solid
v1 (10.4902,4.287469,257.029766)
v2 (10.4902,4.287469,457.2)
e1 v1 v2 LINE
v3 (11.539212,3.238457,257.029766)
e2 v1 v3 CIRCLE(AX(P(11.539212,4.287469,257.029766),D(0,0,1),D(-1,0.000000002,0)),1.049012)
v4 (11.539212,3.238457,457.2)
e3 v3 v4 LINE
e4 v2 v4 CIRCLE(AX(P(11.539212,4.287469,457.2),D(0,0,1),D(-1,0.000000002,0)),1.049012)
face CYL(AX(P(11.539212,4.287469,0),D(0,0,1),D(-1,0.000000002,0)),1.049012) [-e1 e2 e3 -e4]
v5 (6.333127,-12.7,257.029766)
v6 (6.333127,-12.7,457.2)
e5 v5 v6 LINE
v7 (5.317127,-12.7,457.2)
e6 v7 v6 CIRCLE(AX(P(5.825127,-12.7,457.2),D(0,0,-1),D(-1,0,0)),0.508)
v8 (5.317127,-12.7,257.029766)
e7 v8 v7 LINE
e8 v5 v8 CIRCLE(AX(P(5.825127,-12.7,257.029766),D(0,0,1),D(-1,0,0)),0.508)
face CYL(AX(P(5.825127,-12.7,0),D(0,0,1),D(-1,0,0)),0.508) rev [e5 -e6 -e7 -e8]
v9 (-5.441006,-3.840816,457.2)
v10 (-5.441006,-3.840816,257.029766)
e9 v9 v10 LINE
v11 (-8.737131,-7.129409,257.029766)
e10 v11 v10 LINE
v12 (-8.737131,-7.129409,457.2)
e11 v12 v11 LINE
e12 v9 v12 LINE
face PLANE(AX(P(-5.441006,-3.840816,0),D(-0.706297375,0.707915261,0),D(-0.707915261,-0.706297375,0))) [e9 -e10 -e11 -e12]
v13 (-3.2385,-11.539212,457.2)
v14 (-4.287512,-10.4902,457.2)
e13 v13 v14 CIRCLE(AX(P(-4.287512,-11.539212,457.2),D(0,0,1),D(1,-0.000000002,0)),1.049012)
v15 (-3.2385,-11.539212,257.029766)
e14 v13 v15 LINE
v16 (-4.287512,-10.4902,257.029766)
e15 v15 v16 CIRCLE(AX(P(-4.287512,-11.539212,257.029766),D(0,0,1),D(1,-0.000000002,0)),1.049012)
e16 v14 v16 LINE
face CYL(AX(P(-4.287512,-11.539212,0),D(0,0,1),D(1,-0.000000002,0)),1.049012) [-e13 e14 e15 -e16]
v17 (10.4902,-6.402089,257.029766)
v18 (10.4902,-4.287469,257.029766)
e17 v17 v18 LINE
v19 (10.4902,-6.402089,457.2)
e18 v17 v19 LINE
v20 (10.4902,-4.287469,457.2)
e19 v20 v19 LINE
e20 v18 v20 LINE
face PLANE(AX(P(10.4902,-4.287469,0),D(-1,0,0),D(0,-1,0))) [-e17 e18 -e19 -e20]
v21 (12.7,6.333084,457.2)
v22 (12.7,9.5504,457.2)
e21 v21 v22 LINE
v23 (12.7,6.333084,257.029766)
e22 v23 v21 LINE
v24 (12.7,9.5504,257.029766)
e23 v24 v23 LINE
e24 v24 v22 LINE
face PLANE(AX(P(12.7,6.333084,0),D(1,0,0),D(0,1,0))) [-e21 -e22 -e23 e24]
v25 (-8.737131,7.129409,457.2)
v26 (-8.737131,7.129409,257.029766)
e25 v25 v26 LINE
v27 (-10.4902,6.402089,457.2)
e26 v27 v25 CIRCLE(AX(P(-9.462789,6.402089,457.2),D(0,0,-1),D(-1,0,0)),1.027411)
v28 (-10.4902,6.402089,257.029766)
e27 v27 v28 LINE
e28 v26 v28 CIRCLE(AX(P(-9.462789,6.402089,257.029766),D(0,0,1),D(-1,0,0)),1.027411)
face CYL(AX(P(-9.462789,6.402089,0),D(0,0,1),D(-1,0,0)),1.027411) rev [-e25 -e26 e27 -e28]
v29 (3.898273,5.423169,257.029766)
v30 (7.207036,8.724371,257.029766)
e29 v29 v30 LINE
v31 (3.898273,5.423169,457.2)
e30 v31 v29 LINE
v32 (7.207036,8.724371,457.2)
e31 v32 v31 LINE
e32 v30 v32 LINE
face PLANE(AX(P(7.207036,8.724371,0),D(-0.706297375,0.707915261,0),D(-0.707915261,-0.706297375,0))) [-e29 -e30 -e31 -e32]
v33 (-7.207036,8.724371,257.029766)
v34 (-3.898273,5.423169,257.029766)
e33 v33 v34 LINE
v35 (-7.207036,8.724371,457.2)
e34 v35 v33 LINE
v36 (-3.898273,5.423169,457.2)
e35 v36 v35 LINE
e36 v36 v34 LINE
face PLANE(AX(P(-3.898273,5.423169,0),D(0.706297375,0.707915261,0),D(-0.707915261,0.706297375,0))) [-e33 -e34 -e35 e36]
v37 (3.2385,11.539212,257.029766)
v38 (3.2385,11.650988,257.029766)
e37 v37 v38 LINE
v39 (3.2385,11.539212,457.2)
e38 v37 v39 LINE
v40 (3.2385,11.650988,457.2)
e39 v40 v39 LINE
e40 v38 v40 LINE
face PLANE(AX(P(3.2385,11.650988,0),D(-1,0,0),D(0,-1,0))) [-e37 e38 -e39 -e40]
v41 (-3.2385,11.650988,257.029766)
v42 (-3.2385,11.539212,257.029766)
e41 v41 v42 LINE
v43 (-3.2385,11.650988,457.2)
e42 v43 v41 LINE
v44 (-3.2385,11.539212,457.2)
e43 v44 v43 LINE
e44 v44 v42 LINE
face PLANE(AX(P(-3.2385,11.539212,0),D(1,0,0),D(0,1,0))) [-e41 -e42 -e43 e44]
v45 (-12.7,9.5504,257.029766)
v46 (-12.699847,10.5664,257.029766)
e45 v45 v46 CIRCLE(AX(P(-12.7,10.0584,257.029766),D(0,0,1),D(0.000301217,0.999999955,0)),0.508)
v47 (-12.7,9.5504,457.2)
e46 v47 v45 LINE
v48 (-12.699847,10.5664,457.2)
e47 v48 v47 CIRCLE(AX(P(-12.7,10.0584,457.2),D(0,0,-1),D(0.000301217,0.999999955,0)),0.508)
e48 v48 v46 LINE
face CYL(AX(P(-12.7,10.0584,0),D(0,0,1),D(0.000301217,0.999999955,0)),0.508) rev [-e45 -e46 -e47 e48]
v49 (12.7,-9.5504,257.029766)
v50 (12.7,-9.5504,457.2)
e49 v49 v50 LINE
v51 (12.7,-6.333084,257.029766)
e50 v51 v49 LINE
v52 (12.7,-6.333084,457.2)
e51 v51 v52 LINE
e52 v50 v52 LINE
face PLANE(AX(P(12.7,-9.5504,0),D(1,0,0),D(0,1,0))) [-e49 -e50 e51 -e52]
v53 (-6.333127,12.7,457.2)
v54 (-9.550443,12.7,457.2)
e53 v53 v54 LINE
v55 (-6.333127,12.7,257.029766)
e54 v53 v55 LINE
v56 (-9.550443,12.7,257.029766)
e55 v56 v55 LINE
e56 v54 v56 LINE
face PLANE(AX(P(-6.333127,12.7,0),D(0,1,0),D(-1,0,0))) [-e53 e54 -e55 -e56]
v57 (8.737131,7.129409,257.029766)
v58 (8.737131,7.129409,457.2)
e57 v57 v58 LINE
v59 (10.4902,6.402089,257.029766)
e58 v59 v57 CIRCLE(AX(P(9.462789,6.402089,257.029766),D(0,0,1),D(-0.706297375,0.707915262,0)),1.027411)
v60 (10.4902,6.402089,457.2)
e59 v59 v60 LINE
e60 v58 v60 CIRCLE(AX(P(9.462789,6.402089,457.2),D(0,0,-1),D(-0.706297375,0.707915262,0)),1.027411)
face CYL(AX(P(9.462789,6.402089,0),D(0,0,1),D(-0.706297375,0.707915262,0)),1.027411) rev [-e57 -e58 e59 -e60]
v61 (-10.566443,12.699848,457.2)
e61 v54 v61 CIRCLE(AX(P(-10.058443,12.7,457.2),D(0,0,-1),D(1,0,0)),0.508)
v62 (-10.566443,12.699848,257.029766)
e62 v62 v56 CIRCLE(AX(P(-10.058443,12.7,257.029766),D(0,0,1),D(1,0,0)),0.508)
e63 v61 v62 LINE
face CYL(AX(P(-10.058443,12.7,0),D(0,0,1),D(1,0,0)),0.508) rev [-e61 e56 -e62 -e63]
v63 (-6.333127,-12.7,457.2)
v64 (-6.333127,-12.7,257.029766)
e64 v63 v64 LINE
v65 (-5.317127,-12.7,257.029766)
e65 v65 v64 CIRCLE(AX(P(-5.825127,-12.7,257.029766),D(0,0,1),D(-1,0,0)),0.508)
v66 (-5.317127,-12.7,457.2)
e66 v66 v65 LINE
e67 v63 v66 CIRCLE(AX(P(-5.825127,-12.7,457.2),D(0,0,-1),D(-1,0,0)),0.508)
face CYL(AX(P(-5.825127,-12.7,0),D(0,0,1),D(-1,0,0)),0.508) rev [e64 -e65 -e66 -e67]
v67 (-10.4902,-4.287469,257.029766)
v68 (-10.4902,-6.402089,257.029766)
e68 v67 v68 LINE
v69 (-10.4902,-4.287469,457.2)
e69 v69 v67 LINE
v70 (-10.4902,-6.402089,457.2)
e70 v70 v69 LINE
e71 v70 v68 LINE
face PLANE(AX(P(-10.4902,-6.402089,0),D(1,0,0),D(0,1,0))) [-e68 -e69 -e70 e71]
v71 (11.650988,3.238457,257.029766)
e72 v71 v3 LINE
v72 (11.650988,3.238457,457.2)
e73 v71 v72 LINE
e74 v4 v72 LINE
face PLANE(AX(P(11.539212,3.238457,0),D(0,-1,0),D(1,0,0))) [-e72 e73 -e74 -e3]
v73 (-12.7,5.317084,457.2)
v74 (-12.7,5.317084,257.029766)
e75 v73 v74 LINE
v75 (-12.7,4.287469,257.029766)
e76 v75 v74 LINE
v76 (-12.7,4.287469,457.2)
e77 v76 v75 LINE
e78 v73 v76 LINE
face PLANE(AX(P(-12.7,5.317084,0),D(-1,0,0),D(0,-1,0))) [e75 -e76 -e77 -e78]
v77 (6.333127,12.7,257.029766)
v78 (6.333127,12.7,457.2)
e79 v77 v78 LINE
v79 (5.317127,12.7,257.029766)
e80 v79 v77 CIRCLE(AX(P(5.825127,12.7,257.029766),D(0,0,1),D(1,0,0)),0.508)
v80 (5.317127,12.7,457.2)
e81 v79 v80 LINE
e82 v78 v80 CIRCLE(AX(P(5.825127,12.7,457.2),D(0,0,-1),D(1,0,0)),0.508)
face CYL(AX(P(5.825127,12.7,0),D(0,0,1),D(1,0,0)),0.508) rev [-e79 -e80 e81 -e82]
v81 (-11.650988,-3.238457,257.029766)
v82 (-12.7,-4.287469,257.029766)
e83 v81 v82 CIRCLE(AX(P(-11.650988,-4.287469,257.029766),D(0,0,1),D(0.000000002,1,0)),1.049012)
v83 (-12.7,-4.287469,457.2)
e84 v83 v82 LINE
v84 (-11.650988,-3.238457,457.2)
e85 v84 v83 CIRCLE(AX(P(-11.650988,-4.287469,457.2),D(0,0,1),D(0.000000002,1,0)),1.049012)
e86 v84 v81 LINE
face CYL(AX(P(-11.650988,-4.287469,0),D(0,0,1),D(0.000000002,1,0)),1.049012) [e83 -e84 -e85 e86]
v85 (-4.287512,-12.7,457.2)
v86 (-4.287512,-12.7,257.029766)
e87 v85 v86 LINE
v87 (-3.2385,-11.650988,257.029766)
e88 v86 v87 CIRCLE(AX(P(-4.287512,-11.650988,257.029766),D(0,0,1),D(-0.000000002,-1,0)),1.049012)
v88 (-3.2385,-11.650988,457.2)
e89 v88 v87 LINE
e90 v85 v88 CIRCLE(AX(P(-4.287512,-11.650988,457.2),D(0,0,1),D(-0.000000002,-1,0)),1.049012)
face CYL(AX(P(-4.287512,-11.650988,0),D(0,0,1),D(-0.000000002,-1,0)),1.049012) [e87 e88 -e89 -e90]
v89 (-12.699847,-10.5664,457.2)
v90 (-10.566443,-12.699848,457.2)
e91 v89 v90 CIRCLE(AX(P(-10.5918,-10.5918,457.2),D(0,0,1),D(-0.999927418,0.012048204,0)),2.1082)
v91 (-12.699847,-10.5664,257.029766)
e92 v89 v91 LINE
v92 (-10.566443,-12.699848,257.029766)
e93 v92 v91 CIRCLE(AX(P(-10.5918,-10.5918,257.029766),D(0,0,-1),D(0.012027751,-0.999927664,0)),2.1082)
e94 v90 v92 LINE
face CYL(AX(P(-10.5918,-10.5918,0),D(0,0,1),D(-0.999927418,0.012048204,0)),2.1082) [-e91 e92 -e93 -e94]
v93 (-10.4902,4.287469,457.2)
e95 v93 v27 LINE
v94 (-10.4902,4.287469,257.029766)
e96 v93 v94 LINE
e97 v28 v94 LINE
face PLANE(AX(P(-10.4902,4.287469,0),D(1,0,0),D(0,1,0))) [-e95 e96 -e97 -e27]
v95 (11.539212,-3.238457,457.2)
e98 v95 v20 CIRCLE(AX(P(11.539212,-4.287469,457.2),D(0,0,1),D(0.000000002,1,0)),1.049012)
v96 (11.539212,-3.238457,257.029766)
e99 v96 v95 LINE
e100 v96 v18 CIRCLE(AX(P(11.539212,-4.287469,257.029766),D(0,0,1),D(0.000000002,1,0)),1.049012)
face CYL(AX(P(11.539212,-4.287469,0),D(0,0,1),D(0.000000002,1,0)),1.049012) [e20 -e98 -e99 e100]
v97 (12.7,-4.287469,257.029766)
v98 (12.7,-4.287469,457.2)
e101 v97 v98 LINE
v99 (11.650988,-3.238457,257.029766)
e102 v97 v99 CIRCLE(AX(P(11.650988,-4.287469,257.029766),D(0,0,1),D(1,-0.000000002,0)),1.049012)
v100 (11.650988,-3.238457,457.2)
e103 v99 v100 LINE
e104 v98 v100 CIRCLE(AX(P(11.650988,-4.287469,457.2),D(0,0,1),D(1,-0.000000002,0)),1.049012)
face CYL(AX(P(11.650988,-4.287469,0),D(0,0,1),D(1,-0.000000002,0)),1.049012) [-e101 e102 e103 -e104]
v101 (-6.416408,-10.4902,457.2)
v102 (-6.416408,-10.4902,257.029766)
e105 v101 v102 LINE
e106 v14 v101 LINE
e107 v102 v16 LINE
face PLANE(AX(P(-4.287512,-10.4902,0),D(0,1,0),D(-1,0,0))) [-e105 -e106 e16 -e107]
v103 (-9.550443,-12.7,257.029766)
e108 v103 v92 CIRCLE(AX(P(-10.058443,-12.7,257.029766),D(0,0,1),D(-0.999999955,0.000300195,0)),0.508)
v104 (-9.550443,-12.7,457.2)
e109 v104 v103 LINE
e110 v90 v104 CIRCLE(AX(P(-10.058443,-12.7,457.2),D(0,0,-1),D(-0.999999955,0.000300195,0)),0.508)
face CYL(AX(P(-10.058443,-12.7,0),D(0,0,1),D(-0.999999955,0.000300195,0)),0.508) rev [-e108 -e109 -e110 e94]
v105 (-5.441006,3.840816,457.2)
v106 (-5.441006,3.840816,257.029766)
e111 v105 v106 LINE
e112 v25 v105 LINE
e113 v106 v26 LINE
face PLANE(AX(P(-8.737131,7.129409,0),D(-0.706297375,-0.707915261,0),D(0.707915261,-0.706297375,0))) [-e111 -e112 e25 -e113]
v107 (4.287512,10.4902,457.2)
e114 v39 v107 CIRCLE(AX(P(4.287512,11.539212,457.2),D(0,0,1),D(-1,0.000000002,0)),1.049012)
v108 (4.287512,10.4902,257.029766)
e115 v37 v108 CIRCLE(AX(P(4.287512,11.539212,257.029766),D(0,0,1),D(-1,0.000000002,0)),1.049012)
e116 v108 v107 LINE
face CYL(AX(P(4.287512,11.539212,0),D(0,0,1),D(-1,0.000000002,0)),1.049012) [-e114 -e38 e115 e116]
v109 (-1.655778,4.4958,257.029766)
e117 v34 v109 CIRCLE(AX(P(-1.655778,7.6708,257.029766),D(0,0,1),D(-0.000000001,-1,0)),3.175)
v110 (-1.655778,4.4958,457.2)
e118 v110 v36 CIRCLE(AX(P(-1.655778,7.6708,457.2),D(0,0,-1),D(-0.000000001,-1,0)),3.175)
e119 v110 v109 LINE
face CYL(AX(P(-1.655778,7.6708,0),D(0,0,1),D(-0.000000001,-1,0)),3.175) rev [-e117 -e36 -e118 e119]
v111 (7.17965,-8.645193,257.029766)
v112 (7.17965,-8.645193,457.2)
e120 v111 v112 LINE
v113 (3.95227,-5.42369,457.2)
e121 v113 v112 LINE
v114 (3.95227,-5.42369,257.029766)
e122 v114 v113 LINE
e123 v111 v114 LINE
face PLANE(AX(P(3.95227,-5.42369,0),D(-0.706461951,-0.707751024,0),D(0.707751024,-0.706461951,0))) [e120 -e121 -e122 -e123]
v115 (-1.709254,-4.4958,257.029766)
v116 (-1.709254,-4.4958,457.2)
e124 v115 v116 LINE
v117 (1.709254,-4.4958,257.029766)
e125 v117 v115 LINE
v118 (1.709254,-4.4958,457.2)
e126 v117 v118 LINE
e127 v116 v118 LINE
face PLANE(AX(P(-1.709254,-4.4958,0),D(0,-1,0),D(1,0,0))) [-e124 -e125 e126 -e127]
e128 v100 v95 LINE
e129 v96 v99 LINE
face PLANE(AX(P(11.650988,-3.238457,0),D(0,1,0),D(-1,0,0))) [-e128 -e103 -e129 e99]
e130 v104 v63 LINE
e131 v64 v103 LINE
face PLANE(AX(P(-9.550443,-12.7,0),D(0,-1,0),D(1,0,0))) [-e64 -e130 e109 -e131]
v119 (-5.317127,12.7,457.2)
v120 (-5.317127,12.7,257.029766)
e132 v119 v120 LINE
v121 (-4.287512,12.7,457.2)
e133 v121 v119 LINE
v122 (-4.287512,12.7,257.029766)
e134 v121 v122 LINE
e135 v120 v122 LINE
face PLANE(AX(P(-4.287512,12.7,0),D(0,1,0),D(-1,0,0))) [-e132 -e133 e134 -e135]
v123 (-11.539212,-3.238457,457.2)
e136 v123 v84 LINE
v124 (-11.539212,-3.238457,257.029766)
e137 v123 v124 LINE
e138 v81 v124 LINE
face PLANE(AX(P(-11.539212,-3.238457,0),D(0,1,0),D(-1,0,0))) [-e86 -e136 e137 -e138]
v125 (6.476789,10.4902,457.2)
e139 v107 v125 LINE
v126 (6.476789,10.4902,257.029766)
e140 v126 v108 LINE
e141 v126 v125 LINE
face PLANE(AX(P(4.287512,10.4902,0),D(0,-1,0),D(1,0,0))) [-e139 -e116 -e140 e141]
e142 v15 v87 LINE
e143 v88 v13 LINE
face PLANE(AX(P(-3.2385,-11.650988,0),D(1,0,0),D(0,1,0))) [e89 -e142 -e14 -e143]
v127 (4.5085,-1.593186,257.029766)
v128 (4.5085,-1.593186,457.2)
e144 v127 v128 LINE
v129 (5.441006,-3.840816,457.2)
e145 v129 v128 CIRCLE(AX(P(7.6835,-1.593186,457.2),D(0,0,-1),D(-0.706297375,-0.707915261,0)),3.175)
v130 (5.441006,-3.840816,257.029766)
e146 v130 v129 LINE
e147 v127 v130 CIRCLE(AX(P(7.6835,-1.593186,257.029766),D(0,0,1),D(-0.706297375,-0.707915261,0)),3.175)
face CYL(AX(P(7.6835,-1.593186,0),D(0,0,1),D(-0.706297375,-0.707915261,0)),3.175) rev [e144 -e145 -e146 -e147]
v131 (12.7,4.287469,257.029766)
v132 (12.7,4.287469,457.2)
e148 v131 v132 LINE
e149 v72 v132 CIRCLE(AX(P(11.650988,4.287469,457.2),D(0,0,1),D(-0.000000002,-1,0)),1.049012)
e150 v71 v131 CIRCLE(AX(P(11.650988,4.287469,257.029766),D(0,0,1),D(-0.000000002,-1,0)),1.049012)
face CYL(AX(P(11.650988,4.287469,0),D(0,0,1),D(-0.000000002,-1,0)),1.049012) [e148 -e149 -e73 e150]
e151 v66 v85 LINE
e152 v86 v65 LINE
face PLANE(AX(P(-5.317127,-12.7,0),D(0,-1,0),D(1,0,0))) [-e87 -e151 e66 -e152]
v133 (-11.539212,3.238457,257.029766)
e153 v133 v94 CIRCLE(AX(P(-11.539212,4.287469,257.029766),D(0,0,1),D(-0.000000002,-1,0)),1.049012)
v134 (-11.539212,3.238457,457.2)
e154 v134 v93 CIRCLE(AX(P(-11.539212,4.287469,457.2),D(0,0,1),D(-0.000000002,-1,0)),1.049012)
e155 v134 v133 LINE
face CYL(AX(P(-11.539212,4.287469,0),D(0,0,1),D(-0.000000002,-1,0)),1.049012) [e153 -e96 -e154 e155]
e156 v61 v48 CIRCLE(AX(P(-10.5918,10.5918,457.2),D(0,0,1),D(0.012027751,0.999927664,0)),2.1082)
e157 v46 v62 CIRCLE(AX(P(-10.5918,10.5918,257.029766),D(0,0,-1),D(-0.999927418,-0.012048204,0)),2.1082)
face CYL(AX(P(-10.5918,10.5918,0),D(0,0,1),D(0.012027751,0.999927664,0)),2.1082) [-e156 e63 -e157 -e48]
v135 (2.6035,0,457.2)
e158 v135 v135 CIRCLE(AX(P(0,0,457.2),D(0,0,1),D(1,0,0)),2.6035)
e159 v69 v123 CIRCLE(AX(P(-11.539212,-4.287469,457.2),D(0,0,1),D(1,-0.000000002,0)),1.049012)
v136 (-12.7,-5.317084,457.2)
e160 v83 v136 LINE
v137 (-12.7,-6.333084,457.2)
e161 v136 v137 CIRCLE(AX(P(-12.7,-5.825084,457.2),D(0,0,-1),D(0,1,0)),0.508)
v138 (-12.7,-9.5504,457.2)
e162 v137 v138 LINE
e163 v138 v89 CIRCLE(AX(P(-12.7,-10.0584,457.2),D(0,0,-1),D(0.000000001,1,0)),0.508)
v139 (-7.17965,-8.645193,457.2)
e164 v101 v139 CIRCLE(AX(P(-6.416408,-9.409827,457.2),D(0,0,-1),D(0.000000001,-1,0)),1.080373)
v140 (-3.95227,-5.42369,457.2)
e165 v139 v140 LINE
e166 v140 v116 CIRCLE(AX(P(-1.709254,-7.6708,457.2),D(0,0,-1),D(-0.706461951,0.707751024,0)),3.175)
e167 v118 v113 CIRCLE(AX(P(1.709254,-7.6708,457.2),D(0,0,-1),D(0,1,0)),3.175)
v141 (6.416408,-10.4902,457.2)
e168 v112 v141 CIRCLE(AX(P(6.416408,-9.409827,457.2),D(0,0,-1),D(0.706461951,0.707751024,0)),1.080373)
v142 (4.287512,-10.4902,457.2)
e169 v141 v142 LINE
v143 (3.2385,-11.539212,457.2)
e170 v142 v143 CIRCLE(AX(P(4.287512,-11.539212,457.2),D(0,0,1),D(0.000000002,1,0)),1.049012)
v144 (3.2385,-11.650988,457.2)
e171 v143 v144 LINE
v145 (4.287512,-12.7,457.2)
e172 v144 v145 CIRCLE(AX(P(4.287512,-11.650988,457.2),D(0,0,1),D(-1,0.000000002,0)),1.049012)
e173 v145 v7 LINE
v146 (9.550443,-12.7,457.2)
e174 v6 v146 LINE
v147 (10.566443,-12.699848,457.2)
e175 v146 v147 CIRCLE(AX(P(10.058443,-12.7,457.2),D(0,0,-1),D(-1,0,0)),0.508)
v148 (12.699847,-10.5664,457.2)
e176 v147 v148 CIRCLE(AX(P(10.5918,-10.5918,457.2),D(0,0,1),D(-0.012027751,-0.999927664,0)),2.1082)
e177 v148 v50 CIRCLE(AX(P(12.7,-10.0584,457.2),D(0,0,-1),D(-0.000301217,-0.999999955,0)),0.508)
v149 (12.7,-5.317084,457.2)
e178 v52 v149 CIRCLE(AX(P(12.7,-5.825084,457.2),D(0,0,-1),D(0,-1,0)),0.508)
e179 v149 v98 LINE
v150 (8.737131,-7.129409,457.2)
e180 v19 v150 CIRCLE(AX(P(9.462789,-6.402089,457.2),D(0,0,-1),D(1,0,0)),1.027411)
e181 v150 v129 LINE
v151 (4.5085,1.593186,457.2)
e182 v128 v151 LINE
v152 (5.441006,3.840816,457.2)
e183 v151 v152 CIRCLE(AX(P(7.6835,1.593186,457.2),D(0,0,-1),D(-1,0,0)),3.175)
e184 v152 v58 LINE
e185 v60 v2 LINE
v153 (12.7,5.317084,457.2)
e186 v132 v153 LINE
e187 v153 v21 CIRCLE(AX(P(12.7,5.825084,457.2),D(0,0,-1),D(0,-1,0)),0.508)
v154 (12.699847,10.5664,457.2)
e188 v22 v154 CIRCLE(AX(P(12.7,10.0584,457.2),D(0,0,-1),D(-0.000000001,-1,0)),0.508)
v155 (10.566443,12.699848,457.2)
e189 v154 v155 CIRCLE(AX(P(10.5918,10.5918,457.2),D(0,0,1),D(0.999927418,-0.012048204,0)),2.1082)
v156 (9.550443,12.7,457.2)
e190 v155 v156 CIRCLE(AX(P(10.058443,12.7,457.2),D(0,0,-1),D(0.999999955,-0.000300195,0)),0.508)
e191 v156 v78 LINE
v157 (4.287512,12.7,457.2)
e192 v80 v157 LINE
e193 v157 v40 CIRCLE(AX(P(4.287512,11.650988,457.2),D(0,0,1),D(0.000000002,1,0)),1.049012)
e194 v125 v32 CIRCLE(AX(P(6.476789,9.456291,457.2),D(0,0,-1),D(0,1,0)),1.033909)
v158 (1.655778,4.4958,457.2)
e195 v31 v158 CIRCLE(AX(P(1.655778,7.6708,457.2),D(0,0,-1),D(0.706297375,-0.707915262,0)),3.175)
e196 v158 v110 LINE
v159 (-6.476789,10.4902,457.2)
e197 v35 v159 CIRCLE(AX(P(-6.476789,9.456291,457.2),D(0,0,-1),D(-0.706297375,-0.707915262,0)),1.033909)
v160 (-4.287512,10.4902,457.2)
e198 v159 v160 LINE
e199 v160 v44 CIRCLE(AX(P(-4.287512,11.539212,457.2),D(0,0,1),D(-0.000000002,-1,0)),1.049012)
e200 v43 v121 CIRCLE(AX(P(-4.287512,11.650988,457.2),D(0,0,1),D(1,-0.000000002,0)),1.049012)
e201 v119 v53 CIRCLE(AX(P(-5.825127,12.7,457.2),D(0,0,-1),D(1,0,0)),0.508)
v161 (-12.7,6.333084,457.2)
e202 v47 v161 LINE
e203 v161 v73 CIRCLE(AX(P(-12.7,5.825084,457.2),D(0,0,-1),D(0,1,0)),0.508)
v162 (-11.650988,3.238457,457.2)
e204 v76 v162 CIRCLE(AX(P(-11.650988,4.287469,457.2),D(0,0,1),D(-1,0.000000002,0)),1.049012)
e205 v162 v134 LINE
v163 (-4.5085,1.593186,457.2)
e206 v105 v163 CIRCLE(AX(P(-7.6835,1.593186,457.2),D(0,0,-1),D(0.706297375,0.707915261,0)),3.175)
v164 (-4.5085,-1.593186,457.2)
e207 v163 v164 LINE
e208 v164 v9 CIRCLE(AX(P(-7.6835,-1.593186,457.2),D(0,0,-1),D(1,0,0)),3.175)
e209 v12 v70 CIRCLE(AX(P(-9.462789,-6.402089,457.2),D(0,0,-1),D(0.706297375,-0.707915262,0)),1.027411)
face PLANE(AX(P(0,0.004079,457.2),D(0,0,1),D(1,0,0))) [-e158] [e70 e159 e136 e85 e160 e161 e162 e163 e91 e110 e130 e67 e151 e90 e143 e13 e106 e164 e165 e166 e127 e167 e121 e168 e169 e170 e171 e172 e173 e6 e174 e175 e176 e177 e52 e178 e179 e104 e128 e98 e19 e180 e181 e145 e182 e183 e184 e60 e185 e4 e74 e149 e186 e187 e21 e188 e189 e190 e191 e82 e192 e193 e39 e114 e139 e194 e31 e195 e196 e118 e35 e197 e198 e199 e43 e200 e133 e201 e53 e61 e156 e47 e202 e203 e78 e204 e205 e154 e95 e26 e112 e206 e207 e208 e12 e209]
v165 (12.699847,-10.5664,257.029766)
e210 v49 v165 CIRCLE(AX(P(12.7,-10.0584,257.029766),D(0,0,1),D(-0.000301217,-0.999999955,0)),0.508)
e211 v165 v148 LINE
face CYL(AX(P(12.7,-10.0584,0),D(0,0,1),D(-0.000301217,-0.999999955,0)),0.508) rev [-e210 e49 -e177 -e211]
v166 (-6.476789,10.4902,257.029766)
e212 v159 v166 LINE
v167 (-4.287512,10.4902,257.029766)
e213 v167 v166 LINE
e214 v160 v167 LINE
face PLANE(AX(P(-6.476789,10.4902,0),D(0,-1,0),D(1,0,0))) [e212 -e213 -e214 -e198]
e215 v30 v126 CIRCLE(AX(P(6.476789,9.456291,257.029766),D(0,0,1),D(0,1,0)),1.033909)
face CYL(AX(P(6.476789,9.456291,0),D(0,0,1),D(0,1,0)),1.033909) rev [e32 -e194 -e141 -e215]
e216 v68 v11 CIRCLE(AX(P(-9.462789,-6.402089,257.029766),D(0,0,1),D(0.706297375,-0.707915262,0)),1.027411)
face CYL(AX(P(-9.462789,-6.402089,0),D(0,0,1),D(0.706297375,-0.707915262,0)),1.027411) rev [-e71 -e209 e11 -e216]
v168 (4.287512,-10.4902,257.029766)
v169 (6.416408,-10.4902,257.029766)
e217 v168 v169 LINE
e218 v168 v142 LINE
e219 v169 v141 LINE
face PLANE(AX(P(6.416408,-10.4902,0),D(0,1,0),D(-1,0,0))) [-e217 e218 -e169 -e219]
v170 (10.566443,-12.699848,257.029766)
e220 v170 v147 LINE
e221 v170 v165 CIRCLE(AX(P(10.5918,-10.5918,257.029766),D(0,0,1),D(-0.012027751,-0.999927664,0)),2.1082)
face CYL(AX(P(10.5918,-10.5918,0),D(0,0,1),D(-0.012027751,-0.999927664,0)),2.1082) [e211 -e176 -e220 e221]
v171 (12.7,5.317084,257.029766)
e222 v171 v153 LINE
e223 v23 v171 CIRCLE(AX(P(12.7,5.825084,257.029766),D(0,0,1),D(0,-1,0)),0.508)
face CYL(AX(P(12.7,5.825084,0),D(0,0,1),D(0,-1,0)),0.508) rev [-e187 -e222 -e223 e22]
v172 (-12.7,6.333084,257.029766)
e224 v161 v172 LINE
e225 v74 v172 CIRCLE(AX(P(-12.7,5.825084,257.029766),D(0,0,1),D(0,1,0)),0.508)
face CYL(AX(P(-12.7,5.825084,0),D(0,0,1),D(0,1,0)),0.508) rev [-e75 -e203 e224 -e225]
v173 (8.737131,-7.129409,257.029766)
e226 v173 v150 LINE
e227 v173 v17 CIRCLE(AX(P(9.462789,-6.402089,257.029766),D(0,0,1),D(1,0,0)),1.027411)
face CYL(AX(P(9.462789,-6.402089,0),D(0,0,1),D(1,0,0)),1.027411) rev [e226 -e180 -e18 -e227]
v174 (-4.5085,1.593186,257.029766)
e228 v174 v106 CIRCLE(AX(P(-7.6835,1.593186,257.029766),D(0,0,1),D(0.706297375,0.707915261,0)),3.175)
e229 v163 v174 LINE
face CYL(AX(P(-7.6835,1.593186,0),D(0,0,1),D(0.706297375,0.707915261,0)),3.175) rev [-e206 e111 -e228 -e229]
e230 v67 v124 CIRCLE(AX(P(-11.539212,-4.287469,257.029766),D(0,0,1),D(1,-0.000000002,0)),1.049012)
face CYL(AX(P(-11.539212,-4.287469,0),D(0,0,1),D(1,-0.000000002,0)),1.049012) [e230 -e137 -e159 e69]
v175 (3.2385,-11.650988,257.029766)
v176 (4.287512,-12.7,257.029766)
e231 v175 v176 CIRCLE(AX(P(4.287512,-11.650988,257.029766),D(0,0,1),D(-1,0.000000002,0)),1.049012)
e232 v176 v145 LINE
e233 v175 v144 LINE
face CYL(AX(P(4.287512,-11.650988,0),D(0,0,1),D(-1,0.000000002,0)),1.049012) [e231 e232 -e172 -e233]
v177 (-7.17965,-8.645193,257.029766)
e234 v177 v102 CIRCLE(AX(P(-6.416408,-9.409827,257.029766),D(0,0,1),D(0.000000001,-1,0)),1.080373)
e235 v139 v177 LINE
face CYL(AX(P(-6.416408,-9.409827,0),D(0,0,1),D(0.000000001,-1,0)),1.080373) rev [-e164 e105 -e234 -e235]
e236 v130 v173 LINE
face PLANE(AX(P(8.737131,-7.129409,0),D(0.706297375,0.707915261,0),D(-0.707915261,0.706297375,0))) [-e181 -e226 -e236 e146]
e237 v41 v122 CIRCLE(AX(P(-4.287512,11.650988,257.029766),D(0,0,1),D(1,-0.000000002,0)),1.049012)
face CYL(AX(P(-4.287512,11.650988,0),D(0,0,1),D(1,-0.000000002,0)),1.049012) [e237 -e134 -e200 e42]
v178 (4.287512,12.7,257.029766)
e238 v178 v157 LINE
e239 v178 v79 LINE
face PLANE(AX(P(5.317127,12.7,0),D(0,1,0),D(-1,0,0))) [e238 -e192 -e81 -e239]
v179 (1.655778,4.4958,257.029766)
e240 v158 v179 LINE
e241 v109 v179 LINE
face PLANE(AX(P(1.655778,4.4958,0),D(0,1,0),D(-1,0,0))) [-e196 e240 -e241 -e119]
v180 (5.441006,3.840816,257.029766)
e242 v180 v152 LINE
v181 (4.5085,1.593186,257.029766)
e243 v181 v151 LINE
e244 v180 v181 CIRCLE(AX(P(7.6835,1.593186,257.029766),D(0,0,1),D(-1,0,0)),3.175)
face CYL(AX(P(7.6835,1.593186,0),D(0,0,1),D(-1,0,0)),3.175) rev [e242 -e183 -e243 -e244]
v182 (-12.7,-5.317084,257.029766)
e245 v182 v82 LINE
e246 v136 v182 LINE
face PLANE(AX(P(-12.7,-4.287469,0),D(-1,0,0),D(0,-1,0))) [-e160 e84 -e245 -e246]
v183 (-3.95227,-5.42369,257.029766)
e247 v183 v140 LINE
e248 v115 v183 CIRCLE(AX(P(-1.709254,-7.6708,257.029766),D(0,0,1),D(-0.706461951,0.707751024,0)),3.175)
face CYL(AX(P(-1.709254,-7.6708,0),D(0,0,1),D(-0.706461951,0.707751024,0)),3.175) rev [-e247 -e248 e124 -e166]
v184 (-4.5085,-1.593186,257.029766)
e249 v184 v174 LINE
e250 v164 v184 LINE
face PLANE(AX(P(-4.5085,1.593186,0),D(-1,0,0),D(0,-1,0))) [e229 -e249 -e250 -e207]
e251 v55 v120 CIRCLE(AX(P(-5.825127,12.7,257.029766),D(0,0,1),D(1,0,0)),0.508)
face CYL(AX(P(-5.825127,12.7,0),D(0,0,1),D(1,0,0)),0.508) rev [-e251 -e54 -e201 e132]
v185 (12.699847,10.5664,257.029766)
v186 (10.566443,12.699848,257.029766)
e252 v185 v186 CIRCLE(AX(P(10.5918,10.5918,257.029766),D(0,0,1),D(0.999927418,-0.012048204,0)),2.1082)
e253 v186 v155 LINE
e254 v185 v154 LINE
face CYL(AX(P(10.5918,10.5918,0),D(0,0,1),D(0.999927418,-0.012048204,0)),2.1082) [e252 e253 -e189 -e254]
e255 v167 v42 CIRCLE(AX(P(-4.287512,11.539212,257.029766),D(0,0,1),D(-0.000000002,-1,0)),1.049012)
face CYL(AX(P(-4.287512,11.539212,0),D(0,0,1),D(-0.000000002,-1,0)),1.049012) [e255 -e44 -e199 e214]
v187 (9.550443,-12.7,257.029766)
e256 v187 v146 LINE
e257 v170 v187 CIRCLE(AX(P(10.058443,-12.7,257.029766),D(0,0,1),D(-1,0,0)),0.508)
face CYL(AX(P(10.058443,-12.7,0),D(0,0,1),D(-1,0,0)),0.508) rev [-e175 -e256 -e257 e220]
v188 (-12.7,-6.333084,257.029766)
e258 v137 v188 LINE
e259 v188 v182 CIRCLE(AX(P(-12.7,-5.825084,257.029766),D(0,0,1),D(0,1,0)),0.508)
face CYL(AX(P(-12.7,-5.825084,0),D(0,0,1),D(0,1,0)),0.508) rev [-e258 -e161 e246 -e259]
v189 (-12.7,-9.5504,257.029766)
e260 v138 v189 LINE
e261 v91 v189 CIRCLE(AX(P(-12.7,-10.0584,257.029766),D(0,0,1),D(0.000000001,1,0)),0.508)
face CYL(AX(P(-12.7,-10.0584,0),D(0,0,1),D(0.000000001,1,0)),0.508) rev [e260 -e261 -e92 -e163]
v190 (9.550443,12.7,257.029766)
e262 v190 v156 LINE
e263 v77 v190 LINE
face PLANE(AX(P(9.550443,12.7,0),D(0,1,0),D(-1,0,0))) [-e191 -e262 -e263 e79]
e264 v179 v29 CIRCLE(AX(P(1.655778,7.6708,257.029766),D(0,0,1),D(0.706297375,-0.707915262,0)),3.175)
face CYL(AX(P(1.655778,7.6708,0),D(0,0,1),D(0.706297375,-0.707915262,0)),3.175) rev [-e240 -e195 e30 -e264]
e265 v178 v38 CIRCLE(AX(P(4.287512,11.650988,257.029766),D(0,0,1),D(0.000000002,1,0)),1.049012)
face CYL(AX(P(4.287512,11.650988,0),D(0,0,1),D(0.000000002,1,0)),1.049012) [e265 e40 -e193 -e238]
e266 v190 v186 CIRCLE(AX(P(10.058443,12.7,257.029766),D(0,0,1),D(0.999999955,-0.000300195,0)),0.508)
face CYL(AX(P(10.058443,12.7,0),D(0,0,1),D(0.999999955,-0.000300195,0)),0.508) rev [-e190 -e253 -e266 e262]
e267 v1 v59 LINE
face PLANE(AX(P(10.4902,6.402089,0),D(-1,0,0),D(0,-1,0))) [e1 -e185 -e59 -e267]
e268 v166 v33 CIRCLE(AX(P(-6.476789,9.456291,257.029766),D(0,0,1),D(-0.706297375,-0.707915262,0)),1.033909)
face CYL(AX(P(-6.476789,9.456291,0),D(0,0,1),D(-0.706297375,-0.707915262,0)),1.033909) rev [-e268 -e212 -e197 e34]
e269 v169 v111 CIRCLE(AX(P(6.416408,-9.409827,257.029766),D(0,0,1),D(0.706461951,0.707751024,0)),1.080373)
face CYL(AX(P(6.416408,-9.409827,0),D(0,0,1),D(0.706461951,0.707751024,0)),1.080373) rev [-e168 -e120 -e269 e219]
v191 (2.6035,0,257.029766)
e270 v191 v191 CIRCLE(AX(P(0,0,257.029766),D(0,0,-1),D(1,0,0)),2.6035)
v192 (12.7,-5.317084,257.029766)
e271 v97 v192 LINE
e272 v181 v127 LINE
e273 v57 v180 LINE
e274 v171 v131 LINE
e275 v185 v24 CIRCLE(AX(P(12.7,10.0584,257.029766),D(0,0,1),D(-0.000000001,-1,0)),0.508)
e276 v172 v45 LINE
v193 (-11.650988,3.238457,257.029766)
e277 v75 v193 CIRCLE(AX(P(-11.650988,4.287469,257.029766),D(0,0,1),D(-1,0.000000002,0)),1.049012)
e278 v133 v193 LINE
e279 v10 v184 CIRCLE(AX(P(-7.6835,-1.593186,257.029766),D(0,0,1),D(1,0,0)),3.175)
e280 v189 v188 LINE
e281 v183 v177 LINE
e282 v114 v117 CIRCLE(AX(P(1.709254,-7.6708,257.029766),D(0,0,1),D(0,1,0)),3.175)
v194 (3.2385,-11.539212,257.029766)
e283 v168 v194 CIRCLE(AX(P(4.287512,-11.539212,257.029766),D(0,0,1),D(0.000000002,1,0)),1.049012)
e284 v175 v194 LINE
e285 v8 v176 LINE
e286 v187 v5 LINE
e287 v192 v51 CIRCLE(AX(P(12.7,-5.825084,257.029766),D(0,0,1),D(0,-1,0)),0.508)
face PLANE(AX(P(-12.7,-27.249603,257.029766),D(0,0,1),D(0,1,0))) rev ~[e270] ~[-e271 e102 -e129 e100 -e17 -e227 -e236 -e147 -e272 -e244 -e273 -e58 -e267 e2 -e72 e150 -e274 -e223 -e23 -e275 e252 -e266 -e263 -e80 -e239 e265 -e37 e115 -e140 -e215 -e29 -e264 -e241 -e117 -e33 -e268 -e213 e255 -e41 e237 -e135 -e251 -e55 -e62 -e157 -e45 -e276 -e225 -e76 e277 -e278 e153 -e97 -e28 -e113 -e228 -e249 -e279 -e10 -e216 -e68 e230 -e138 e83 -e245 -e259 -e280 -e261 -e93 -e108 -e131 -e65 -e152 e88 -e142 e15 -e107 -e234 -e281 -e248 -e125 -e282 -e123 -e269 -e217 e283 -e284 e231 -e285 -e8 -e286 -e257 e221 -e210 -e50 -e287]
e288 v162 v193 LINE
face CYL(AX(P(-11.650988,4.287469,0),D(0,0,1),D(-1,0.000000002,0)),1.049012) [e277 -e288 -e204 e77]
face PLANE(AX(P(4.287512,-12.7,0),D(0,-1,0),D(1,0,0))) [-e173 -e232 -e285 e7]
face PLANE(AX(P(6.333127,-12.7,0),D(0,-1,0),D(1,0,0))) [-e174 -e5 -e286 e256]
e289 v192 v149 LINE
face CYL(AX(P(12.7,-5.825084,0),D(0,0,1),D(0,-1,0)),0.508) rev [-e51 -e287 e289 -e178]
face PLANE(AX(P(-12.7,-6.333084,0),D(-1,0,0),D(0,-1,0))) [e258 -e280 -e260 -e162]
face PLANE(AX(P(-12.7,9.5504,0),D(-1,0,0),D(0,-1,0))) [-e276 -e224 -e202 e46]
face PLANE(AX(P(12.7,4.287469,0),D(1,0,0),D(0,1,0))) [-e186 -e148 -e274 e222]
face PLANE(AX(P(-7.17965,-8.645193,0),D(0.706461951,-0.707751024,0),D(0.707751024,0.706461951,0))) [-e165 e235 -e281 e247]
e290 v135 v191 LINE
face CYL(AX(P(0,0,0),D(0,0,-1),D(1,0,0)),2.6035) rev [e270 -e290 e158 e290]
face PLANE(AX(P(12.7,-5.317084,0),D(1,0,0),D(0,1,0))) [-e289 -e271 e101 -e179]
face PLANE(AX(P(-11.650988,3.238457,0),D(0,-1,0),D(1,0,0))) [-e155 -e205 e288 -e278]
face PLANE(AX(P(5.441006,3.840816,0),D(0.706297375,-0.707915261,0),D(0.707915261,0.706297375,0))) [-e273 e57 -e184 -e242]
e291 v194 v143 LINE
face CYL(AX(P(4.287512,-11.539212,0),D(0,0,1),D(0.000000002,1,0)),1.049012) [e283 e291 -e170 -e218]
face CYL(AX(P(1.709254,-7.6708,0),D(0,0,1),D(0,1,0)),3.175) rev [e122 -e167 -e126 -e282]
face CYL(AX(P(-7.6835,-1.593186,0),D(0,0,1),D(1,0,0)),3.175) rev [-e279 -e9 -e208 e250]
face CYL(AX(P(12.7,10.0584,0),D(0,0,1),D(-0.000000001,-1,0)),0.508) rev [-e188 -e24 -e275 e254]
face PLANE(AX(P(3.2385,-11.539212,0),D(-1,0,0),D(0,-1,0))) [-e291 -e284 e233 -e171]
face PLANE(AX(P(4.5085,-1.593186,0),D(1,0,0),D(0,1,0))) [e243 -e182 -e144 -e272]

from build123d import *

# Parameters (mm, degrees)
SKETCH1_R               = 2.6035
BOSS_EXTRUDE1_DEPTH     = 457.2
CUT_EXTRUDE2_DEPTH      = 4.318
CUT_EXTRUDE2_DEPTH_BACK = 26.924


with BuildPart() as part:
    # Sketch1 → Boss-Extrude1 (new body, symmetric)
    with BuildSketch(Plane.XY):
        with BuildLine():
            Line((-7.179650497, -8.645192506), (-3.952270251, -5.423690499))
            ThreePointArc((-3.952270251, -5.423690499), (-2.922936451, -4.736929036), (-1.709253557, -4.4958))
            Line((-1.709253557, -4.4958), (1.709253557, -4.4958))
            ThreePointArc((1.709253557, -4.4958), (2.922936451, -4.736929036), (3.952270251, -5.423690499))
            Line((3.952270251, -5.423690499), (7.179650497, -8.645192506))
            ThreePointArc((7.179650497, -8.645192506), (7.41473083, -9.822813117), (6.416408329, -10.4902))
            Line((6.416408329, -10.4902), (4.287512407, -10.4902))
            ThreePointArc((4.287512407, -10.4902), (3.54574862, -10.79744862), (3.2385, -11.539212407))
            Line((3.2385, -11.539212407), (3.2385, -11.650987593))
            ThreePointArc((3.2385, -11.650987593), (3.54574862, -12.39275138), (4.287512407, -12.7))
            Line((4.287512407, -12.7), (5.317126718, -12.7))
            ThreePointArc((5.317126718, -12.7), (5.825126718, -12.192), (6.333126718, -12.7))
            Line((6.333126718, -12.7), (9.550443118, -12.7))
            ThreePointArc((9.550443118, -12.7), (10.058366869, -12.192000006), (10.566443095, -12.699847501))
            ThreePointArc((10.566443095, -12.699847501), (12.082537762, -12.08250727), (12.699846982, -10.566399977))
            ThreePointArc((12.699846982, -10.566399977), (12.192000006, -10.058323491), (12.7, -9.5504))
            Line((12.7, -9.5504), (12.7, -6.3330836))
            ThreePointArc((12.7, -6.3330836), (12.192, -5.8250836), (12.7, -5.3170836))
            Line((12.7, -5.3170836), (12.7, -4.287469289))
            ThreePointArc((12.7, -4.287469289), (12.39275138, -3.545705502), (11.650987593, -3.238456882))
            Line((11.650987593, -3.238456882), (11.539212407, -3.238456882))
            ThreePointArc((11.539212407, -3.238456882), (10.79744862, -3.545705502), (10.4902, -4.287469289))
            Line((10.4902, -4.287469289), (10.4902, -6.402089023))
            ThreePointArc((10.4902, -6.402089023), (9.856505071, -7.351067942), (8.737131347, -7.129408934))
            Line((8.737131347, -7.129408934), (5.441005833, -3.840816462))
            ThreePointArc((5.441005833, -3.840816462), (4.750877967, -2.809883091), (4.5085, -1.593185507))
            Line((4.5085, -1.593185507), (4.5085, 1.593185507))
            ThreePointArc((4.5085, 1.593185507), (4.750877967, 2.809883091), (5.441005833, 3.840816462))
            Line((5.441005833, 3.840816462), (8.737131347, 7.129408934))
            ThreePointArc((8.737131347, 7.129408934), (9.856505071, 7.351067942), (10.4902, 6.402089023))
            Line((10.4902, 6.402089023), (10.4902, 4.287469289))
            ThreePointArc((10.4902, 4.287469289), (10.79744862, 3.545705502), (11.539212407, 3.238456882))
            Line((11.539212407, 3.238456882), (11.650987593, 3.238456882))
            ThreePointArc((11.650987593, 3.238456882), (12.39275138, 3.545705502), (12.7, 4.287469289))
            Line((12.7, 4.287469289), (12.7, 5.3170836))
            ThreePointArc((12.7, 5.3170836), (12.192, 5.8250836), (12.7, 6.3330836))
            Line((12.7, 6.3330836), (12.7, 9.5504))
            ThreePointArc((12.7, 9.5504), (12.192000006, 10.058323491), (12.699846982, 10.566399977))
            ThreePointArc((12.699846982, 10.566399977), (12.082537762, 12.08250727), (10.566443095, 12.699847501))
            ThreePointArc((10.566443095, 12.699847501), (10.058366869, 12.192000006), (9.550443118, 12.7))
            Line((9.550443118, 12.7), (6.333126718, 12.7))
            ThreePointArc((6.333126718, 12.7), (5.825126718, 12.192), (5.317126718, 12.7))
            Line((5.317126718, 12.7), (4.287512407, 12.7))
            ThreePointArc((4.287512407, 12.7), (3.54574862, 12.39275138), (3.2385, 11.650987593))
            Line((3.2385, 11.650987593), (3.2385, 11.539212407))
            ThreePointArc((3.2385, 11.539212407), (3.54574862, 10.79744862), (4.287512407, 10.4902))
            Line((4.287512407, 10.4902), (6.476788598, 10.4902))
            ThreePointArc((6.476788598, 10.4902), (7.432222385, 9.85140422), (7.207036008, 8.724370562))
            Line((7.207036008, 8.724370562), (3.898272566, 5.423169045))
            ThreePointArc((3.898272566, 5.423169045), (2.869120213, 4.736787962), (1.655778399, 4.4958))
            Line((1.655778399, 4.4958), (-1.655778399, 4.4958))
            ThreePointArc((-1.655778399, 4.4958), (-2.869120213, 4.736787962), (-3.898272566, 5.423169045))
            Line((-3.898272566, 5.423169045), (-7.207036008, 8.724370562))
            ThreePointArc((-7.207036008, 8.724370562), (-7.432222385, 9.85140422), (-6.476788598, 10.4902))
            Line((-6.476788598, 10.4902), (-4.287512407, 10.4902))
            ThreePointArc((-4.287512407, 10.4902), (-3.54574862, 10.79744862), (-3.2385, 11.539212407))
            Line((-3.2385, 11.539212407), (-3.2385, 11.650987593))
            ThreePointArc((-3.2385, 11.650987593), (-3.54574862, 12.39275138), (-4.287512407, 12.7))
            Line((-4.287512407, 12.7), (-5.317126718, 12.7))
            ThreePointArc((-5.317126718, 12.7), (-5.825126718, 12.192), (-6.333126718, 12.7))
            Line((-6.333126718, 12.7), (-9.550443118, 12.7))
            ThreePointArc((-9.550443118, 12.7), (-10.058366869, 12.192000006), (-10.566443095, 12.699847501))
            ThreePointArc((-10.566443095, 12.699847501), (-12.082537762, 12.08250727), (-12.699846982, 10.566399977))
            ThreePointArc((-12.699846982, 10.566399977), (-12.192000006, 10.058323491), (-12.7, 9.5504))
            Line((-12.7, 9.5504), (-12.7, 6.3330836))
            ThreePointArc((-12.7, 6.3330836), (-12.192, 5.8250836), (-12.7, 5.3170836))
            Line((-12.7, 5.3170836), (-12.7, 4.287469289))
            ThreePointArc((-12.7, 4.287469289), (-12.39275138, 3.545705502), (-11.650987593, 3.238456882))
            Line((-11.650987593, 3.238456882), (-11.539212407, 3.238456882))
            ThreePointArc((-11.539212407, 3.238456882), (-10.79744862, 3.545705502), (-10.4902, 4.287469289))
            Line((-10.4902, 4.287469289), (-10.4902, 6.402089023))
            ThreePointArc((-10.4902, 6.402089023), (-9.856505071, 7.351067942), (-8.737131347, 7.129408934))
            Line((-8.737131347, 7.129408934), (-5.441005833, 3.840816462))
            ThreePointArc((-5.441005833, 3.840816462), (-4.750877967, 2.809883091), (-4.5085, 1.593185507))
            Line((-4.5085, 1.593185507), (-4.5085, -1.593185507))
            ThreePointArc((-4.5085, -1.593185507), (-4.750877967, -2.809883091), (-5.441005833, -3.840816462))
            Line((-5.441005833, -3.840816462), (-8.737131347, -7.129408934))
            ThreePointArc((-8.737131347, -7.129408934), (-9.856505071, -7.351067942), (-10.4902, -6.402089023))
            Line((-10.4902, -6.402089023), (-10.4902, -4.287469289))
            ThreePointArc((-10.4902, -4.287469289), (-10.79744862, -3.545705502), (-11.539212407, -3.238456882))
            Line((-11.539212407, -3.238456882), (-11.650987593, -3.238456882))
            ThreePointArc((-11.650987593, -3.238456882), (-12.39275138, -3.545705502), (-12.7, -4.287469289))
            Line((-12.7, -4.287469289), (-12.7, -5.3170836))
            ThreePointArc((-12.7, -5.3170836), (-12.192, -5.8250836), (-12.7, -6.3330836))
            Line((-12.7, -6.3330836), (-12.7, -9.5504))
            ThreePointArc((-12.7, -9.5504), (-12.192000006, -10.058323491), (-12.699846982, -10.566399977))
            ThreePointArc((-12.699846982, -10.566399977), (-12.082537762, -12.08250727), (-10.566443095, -12.699847501))
            ThreePointArc((-10.566443095, -12.699847501), (-10.058366869, -12.192000006), (-9.550443118, -12.7))
            Line((-9.550443118, -12.7), (-6.333126718, -12.7))
            ThreePointArc((-6.333126718, -12.7), (-5.825126718, -12.192), (-5.317126718, -12.7))
            Line((-5.317126718, -12.7), (-4.287512407, -12.7))
            ThreePointArc((-4.287512407, -12.7), (-3.54574862, -12.39275138), (-3.2385, -11.650987593))
            Line((-3.2385, -11.650987593), (-3.2385, -11.539212407))
            ThreePointArc((-3.2385, -11.539212407), (-3.54574862, -10.79744862), (-4.287512407, -10.4902))
            Line((-4.287512407, -10.4902), (-6.416408329, -10.4902))
            ThreePointArc((-6.416408329, -10.4902), (-7.41473083, -9.822813117), (-7.179650497, -8.645192506))
        make_face()
        Circle(SKETCH1_R, mode=Mode.SUBTRACT)
    extrude(amount=BOSS_EXTRUDE1_DEPTH, both=True)

    # Sketch3 → Cut-Extrude2 (cut, two sides)
    with BuildSketch(Plane.ZY.offset(12.7)) as cut_extrude2_sk:
        Polygon((-203.2, 21.063041056), (-461.090893327, 21.063041056), (-461.090893327, -25.4), (-203.2, -27.249602883), (257.029766368, -27.249602883), (257.029766368, 21.063041056), align=None)
    extrude(amount=CUT_EXTRUDE2_DEPTH, mode=Mode.SUBTRACT)
    extrude(cut_extrude2_sk.sketch, amount=-CUT_EXTRUDE2_DEPTH_BACK, mode=Mode.SUBTRACT)


solid = part.part
